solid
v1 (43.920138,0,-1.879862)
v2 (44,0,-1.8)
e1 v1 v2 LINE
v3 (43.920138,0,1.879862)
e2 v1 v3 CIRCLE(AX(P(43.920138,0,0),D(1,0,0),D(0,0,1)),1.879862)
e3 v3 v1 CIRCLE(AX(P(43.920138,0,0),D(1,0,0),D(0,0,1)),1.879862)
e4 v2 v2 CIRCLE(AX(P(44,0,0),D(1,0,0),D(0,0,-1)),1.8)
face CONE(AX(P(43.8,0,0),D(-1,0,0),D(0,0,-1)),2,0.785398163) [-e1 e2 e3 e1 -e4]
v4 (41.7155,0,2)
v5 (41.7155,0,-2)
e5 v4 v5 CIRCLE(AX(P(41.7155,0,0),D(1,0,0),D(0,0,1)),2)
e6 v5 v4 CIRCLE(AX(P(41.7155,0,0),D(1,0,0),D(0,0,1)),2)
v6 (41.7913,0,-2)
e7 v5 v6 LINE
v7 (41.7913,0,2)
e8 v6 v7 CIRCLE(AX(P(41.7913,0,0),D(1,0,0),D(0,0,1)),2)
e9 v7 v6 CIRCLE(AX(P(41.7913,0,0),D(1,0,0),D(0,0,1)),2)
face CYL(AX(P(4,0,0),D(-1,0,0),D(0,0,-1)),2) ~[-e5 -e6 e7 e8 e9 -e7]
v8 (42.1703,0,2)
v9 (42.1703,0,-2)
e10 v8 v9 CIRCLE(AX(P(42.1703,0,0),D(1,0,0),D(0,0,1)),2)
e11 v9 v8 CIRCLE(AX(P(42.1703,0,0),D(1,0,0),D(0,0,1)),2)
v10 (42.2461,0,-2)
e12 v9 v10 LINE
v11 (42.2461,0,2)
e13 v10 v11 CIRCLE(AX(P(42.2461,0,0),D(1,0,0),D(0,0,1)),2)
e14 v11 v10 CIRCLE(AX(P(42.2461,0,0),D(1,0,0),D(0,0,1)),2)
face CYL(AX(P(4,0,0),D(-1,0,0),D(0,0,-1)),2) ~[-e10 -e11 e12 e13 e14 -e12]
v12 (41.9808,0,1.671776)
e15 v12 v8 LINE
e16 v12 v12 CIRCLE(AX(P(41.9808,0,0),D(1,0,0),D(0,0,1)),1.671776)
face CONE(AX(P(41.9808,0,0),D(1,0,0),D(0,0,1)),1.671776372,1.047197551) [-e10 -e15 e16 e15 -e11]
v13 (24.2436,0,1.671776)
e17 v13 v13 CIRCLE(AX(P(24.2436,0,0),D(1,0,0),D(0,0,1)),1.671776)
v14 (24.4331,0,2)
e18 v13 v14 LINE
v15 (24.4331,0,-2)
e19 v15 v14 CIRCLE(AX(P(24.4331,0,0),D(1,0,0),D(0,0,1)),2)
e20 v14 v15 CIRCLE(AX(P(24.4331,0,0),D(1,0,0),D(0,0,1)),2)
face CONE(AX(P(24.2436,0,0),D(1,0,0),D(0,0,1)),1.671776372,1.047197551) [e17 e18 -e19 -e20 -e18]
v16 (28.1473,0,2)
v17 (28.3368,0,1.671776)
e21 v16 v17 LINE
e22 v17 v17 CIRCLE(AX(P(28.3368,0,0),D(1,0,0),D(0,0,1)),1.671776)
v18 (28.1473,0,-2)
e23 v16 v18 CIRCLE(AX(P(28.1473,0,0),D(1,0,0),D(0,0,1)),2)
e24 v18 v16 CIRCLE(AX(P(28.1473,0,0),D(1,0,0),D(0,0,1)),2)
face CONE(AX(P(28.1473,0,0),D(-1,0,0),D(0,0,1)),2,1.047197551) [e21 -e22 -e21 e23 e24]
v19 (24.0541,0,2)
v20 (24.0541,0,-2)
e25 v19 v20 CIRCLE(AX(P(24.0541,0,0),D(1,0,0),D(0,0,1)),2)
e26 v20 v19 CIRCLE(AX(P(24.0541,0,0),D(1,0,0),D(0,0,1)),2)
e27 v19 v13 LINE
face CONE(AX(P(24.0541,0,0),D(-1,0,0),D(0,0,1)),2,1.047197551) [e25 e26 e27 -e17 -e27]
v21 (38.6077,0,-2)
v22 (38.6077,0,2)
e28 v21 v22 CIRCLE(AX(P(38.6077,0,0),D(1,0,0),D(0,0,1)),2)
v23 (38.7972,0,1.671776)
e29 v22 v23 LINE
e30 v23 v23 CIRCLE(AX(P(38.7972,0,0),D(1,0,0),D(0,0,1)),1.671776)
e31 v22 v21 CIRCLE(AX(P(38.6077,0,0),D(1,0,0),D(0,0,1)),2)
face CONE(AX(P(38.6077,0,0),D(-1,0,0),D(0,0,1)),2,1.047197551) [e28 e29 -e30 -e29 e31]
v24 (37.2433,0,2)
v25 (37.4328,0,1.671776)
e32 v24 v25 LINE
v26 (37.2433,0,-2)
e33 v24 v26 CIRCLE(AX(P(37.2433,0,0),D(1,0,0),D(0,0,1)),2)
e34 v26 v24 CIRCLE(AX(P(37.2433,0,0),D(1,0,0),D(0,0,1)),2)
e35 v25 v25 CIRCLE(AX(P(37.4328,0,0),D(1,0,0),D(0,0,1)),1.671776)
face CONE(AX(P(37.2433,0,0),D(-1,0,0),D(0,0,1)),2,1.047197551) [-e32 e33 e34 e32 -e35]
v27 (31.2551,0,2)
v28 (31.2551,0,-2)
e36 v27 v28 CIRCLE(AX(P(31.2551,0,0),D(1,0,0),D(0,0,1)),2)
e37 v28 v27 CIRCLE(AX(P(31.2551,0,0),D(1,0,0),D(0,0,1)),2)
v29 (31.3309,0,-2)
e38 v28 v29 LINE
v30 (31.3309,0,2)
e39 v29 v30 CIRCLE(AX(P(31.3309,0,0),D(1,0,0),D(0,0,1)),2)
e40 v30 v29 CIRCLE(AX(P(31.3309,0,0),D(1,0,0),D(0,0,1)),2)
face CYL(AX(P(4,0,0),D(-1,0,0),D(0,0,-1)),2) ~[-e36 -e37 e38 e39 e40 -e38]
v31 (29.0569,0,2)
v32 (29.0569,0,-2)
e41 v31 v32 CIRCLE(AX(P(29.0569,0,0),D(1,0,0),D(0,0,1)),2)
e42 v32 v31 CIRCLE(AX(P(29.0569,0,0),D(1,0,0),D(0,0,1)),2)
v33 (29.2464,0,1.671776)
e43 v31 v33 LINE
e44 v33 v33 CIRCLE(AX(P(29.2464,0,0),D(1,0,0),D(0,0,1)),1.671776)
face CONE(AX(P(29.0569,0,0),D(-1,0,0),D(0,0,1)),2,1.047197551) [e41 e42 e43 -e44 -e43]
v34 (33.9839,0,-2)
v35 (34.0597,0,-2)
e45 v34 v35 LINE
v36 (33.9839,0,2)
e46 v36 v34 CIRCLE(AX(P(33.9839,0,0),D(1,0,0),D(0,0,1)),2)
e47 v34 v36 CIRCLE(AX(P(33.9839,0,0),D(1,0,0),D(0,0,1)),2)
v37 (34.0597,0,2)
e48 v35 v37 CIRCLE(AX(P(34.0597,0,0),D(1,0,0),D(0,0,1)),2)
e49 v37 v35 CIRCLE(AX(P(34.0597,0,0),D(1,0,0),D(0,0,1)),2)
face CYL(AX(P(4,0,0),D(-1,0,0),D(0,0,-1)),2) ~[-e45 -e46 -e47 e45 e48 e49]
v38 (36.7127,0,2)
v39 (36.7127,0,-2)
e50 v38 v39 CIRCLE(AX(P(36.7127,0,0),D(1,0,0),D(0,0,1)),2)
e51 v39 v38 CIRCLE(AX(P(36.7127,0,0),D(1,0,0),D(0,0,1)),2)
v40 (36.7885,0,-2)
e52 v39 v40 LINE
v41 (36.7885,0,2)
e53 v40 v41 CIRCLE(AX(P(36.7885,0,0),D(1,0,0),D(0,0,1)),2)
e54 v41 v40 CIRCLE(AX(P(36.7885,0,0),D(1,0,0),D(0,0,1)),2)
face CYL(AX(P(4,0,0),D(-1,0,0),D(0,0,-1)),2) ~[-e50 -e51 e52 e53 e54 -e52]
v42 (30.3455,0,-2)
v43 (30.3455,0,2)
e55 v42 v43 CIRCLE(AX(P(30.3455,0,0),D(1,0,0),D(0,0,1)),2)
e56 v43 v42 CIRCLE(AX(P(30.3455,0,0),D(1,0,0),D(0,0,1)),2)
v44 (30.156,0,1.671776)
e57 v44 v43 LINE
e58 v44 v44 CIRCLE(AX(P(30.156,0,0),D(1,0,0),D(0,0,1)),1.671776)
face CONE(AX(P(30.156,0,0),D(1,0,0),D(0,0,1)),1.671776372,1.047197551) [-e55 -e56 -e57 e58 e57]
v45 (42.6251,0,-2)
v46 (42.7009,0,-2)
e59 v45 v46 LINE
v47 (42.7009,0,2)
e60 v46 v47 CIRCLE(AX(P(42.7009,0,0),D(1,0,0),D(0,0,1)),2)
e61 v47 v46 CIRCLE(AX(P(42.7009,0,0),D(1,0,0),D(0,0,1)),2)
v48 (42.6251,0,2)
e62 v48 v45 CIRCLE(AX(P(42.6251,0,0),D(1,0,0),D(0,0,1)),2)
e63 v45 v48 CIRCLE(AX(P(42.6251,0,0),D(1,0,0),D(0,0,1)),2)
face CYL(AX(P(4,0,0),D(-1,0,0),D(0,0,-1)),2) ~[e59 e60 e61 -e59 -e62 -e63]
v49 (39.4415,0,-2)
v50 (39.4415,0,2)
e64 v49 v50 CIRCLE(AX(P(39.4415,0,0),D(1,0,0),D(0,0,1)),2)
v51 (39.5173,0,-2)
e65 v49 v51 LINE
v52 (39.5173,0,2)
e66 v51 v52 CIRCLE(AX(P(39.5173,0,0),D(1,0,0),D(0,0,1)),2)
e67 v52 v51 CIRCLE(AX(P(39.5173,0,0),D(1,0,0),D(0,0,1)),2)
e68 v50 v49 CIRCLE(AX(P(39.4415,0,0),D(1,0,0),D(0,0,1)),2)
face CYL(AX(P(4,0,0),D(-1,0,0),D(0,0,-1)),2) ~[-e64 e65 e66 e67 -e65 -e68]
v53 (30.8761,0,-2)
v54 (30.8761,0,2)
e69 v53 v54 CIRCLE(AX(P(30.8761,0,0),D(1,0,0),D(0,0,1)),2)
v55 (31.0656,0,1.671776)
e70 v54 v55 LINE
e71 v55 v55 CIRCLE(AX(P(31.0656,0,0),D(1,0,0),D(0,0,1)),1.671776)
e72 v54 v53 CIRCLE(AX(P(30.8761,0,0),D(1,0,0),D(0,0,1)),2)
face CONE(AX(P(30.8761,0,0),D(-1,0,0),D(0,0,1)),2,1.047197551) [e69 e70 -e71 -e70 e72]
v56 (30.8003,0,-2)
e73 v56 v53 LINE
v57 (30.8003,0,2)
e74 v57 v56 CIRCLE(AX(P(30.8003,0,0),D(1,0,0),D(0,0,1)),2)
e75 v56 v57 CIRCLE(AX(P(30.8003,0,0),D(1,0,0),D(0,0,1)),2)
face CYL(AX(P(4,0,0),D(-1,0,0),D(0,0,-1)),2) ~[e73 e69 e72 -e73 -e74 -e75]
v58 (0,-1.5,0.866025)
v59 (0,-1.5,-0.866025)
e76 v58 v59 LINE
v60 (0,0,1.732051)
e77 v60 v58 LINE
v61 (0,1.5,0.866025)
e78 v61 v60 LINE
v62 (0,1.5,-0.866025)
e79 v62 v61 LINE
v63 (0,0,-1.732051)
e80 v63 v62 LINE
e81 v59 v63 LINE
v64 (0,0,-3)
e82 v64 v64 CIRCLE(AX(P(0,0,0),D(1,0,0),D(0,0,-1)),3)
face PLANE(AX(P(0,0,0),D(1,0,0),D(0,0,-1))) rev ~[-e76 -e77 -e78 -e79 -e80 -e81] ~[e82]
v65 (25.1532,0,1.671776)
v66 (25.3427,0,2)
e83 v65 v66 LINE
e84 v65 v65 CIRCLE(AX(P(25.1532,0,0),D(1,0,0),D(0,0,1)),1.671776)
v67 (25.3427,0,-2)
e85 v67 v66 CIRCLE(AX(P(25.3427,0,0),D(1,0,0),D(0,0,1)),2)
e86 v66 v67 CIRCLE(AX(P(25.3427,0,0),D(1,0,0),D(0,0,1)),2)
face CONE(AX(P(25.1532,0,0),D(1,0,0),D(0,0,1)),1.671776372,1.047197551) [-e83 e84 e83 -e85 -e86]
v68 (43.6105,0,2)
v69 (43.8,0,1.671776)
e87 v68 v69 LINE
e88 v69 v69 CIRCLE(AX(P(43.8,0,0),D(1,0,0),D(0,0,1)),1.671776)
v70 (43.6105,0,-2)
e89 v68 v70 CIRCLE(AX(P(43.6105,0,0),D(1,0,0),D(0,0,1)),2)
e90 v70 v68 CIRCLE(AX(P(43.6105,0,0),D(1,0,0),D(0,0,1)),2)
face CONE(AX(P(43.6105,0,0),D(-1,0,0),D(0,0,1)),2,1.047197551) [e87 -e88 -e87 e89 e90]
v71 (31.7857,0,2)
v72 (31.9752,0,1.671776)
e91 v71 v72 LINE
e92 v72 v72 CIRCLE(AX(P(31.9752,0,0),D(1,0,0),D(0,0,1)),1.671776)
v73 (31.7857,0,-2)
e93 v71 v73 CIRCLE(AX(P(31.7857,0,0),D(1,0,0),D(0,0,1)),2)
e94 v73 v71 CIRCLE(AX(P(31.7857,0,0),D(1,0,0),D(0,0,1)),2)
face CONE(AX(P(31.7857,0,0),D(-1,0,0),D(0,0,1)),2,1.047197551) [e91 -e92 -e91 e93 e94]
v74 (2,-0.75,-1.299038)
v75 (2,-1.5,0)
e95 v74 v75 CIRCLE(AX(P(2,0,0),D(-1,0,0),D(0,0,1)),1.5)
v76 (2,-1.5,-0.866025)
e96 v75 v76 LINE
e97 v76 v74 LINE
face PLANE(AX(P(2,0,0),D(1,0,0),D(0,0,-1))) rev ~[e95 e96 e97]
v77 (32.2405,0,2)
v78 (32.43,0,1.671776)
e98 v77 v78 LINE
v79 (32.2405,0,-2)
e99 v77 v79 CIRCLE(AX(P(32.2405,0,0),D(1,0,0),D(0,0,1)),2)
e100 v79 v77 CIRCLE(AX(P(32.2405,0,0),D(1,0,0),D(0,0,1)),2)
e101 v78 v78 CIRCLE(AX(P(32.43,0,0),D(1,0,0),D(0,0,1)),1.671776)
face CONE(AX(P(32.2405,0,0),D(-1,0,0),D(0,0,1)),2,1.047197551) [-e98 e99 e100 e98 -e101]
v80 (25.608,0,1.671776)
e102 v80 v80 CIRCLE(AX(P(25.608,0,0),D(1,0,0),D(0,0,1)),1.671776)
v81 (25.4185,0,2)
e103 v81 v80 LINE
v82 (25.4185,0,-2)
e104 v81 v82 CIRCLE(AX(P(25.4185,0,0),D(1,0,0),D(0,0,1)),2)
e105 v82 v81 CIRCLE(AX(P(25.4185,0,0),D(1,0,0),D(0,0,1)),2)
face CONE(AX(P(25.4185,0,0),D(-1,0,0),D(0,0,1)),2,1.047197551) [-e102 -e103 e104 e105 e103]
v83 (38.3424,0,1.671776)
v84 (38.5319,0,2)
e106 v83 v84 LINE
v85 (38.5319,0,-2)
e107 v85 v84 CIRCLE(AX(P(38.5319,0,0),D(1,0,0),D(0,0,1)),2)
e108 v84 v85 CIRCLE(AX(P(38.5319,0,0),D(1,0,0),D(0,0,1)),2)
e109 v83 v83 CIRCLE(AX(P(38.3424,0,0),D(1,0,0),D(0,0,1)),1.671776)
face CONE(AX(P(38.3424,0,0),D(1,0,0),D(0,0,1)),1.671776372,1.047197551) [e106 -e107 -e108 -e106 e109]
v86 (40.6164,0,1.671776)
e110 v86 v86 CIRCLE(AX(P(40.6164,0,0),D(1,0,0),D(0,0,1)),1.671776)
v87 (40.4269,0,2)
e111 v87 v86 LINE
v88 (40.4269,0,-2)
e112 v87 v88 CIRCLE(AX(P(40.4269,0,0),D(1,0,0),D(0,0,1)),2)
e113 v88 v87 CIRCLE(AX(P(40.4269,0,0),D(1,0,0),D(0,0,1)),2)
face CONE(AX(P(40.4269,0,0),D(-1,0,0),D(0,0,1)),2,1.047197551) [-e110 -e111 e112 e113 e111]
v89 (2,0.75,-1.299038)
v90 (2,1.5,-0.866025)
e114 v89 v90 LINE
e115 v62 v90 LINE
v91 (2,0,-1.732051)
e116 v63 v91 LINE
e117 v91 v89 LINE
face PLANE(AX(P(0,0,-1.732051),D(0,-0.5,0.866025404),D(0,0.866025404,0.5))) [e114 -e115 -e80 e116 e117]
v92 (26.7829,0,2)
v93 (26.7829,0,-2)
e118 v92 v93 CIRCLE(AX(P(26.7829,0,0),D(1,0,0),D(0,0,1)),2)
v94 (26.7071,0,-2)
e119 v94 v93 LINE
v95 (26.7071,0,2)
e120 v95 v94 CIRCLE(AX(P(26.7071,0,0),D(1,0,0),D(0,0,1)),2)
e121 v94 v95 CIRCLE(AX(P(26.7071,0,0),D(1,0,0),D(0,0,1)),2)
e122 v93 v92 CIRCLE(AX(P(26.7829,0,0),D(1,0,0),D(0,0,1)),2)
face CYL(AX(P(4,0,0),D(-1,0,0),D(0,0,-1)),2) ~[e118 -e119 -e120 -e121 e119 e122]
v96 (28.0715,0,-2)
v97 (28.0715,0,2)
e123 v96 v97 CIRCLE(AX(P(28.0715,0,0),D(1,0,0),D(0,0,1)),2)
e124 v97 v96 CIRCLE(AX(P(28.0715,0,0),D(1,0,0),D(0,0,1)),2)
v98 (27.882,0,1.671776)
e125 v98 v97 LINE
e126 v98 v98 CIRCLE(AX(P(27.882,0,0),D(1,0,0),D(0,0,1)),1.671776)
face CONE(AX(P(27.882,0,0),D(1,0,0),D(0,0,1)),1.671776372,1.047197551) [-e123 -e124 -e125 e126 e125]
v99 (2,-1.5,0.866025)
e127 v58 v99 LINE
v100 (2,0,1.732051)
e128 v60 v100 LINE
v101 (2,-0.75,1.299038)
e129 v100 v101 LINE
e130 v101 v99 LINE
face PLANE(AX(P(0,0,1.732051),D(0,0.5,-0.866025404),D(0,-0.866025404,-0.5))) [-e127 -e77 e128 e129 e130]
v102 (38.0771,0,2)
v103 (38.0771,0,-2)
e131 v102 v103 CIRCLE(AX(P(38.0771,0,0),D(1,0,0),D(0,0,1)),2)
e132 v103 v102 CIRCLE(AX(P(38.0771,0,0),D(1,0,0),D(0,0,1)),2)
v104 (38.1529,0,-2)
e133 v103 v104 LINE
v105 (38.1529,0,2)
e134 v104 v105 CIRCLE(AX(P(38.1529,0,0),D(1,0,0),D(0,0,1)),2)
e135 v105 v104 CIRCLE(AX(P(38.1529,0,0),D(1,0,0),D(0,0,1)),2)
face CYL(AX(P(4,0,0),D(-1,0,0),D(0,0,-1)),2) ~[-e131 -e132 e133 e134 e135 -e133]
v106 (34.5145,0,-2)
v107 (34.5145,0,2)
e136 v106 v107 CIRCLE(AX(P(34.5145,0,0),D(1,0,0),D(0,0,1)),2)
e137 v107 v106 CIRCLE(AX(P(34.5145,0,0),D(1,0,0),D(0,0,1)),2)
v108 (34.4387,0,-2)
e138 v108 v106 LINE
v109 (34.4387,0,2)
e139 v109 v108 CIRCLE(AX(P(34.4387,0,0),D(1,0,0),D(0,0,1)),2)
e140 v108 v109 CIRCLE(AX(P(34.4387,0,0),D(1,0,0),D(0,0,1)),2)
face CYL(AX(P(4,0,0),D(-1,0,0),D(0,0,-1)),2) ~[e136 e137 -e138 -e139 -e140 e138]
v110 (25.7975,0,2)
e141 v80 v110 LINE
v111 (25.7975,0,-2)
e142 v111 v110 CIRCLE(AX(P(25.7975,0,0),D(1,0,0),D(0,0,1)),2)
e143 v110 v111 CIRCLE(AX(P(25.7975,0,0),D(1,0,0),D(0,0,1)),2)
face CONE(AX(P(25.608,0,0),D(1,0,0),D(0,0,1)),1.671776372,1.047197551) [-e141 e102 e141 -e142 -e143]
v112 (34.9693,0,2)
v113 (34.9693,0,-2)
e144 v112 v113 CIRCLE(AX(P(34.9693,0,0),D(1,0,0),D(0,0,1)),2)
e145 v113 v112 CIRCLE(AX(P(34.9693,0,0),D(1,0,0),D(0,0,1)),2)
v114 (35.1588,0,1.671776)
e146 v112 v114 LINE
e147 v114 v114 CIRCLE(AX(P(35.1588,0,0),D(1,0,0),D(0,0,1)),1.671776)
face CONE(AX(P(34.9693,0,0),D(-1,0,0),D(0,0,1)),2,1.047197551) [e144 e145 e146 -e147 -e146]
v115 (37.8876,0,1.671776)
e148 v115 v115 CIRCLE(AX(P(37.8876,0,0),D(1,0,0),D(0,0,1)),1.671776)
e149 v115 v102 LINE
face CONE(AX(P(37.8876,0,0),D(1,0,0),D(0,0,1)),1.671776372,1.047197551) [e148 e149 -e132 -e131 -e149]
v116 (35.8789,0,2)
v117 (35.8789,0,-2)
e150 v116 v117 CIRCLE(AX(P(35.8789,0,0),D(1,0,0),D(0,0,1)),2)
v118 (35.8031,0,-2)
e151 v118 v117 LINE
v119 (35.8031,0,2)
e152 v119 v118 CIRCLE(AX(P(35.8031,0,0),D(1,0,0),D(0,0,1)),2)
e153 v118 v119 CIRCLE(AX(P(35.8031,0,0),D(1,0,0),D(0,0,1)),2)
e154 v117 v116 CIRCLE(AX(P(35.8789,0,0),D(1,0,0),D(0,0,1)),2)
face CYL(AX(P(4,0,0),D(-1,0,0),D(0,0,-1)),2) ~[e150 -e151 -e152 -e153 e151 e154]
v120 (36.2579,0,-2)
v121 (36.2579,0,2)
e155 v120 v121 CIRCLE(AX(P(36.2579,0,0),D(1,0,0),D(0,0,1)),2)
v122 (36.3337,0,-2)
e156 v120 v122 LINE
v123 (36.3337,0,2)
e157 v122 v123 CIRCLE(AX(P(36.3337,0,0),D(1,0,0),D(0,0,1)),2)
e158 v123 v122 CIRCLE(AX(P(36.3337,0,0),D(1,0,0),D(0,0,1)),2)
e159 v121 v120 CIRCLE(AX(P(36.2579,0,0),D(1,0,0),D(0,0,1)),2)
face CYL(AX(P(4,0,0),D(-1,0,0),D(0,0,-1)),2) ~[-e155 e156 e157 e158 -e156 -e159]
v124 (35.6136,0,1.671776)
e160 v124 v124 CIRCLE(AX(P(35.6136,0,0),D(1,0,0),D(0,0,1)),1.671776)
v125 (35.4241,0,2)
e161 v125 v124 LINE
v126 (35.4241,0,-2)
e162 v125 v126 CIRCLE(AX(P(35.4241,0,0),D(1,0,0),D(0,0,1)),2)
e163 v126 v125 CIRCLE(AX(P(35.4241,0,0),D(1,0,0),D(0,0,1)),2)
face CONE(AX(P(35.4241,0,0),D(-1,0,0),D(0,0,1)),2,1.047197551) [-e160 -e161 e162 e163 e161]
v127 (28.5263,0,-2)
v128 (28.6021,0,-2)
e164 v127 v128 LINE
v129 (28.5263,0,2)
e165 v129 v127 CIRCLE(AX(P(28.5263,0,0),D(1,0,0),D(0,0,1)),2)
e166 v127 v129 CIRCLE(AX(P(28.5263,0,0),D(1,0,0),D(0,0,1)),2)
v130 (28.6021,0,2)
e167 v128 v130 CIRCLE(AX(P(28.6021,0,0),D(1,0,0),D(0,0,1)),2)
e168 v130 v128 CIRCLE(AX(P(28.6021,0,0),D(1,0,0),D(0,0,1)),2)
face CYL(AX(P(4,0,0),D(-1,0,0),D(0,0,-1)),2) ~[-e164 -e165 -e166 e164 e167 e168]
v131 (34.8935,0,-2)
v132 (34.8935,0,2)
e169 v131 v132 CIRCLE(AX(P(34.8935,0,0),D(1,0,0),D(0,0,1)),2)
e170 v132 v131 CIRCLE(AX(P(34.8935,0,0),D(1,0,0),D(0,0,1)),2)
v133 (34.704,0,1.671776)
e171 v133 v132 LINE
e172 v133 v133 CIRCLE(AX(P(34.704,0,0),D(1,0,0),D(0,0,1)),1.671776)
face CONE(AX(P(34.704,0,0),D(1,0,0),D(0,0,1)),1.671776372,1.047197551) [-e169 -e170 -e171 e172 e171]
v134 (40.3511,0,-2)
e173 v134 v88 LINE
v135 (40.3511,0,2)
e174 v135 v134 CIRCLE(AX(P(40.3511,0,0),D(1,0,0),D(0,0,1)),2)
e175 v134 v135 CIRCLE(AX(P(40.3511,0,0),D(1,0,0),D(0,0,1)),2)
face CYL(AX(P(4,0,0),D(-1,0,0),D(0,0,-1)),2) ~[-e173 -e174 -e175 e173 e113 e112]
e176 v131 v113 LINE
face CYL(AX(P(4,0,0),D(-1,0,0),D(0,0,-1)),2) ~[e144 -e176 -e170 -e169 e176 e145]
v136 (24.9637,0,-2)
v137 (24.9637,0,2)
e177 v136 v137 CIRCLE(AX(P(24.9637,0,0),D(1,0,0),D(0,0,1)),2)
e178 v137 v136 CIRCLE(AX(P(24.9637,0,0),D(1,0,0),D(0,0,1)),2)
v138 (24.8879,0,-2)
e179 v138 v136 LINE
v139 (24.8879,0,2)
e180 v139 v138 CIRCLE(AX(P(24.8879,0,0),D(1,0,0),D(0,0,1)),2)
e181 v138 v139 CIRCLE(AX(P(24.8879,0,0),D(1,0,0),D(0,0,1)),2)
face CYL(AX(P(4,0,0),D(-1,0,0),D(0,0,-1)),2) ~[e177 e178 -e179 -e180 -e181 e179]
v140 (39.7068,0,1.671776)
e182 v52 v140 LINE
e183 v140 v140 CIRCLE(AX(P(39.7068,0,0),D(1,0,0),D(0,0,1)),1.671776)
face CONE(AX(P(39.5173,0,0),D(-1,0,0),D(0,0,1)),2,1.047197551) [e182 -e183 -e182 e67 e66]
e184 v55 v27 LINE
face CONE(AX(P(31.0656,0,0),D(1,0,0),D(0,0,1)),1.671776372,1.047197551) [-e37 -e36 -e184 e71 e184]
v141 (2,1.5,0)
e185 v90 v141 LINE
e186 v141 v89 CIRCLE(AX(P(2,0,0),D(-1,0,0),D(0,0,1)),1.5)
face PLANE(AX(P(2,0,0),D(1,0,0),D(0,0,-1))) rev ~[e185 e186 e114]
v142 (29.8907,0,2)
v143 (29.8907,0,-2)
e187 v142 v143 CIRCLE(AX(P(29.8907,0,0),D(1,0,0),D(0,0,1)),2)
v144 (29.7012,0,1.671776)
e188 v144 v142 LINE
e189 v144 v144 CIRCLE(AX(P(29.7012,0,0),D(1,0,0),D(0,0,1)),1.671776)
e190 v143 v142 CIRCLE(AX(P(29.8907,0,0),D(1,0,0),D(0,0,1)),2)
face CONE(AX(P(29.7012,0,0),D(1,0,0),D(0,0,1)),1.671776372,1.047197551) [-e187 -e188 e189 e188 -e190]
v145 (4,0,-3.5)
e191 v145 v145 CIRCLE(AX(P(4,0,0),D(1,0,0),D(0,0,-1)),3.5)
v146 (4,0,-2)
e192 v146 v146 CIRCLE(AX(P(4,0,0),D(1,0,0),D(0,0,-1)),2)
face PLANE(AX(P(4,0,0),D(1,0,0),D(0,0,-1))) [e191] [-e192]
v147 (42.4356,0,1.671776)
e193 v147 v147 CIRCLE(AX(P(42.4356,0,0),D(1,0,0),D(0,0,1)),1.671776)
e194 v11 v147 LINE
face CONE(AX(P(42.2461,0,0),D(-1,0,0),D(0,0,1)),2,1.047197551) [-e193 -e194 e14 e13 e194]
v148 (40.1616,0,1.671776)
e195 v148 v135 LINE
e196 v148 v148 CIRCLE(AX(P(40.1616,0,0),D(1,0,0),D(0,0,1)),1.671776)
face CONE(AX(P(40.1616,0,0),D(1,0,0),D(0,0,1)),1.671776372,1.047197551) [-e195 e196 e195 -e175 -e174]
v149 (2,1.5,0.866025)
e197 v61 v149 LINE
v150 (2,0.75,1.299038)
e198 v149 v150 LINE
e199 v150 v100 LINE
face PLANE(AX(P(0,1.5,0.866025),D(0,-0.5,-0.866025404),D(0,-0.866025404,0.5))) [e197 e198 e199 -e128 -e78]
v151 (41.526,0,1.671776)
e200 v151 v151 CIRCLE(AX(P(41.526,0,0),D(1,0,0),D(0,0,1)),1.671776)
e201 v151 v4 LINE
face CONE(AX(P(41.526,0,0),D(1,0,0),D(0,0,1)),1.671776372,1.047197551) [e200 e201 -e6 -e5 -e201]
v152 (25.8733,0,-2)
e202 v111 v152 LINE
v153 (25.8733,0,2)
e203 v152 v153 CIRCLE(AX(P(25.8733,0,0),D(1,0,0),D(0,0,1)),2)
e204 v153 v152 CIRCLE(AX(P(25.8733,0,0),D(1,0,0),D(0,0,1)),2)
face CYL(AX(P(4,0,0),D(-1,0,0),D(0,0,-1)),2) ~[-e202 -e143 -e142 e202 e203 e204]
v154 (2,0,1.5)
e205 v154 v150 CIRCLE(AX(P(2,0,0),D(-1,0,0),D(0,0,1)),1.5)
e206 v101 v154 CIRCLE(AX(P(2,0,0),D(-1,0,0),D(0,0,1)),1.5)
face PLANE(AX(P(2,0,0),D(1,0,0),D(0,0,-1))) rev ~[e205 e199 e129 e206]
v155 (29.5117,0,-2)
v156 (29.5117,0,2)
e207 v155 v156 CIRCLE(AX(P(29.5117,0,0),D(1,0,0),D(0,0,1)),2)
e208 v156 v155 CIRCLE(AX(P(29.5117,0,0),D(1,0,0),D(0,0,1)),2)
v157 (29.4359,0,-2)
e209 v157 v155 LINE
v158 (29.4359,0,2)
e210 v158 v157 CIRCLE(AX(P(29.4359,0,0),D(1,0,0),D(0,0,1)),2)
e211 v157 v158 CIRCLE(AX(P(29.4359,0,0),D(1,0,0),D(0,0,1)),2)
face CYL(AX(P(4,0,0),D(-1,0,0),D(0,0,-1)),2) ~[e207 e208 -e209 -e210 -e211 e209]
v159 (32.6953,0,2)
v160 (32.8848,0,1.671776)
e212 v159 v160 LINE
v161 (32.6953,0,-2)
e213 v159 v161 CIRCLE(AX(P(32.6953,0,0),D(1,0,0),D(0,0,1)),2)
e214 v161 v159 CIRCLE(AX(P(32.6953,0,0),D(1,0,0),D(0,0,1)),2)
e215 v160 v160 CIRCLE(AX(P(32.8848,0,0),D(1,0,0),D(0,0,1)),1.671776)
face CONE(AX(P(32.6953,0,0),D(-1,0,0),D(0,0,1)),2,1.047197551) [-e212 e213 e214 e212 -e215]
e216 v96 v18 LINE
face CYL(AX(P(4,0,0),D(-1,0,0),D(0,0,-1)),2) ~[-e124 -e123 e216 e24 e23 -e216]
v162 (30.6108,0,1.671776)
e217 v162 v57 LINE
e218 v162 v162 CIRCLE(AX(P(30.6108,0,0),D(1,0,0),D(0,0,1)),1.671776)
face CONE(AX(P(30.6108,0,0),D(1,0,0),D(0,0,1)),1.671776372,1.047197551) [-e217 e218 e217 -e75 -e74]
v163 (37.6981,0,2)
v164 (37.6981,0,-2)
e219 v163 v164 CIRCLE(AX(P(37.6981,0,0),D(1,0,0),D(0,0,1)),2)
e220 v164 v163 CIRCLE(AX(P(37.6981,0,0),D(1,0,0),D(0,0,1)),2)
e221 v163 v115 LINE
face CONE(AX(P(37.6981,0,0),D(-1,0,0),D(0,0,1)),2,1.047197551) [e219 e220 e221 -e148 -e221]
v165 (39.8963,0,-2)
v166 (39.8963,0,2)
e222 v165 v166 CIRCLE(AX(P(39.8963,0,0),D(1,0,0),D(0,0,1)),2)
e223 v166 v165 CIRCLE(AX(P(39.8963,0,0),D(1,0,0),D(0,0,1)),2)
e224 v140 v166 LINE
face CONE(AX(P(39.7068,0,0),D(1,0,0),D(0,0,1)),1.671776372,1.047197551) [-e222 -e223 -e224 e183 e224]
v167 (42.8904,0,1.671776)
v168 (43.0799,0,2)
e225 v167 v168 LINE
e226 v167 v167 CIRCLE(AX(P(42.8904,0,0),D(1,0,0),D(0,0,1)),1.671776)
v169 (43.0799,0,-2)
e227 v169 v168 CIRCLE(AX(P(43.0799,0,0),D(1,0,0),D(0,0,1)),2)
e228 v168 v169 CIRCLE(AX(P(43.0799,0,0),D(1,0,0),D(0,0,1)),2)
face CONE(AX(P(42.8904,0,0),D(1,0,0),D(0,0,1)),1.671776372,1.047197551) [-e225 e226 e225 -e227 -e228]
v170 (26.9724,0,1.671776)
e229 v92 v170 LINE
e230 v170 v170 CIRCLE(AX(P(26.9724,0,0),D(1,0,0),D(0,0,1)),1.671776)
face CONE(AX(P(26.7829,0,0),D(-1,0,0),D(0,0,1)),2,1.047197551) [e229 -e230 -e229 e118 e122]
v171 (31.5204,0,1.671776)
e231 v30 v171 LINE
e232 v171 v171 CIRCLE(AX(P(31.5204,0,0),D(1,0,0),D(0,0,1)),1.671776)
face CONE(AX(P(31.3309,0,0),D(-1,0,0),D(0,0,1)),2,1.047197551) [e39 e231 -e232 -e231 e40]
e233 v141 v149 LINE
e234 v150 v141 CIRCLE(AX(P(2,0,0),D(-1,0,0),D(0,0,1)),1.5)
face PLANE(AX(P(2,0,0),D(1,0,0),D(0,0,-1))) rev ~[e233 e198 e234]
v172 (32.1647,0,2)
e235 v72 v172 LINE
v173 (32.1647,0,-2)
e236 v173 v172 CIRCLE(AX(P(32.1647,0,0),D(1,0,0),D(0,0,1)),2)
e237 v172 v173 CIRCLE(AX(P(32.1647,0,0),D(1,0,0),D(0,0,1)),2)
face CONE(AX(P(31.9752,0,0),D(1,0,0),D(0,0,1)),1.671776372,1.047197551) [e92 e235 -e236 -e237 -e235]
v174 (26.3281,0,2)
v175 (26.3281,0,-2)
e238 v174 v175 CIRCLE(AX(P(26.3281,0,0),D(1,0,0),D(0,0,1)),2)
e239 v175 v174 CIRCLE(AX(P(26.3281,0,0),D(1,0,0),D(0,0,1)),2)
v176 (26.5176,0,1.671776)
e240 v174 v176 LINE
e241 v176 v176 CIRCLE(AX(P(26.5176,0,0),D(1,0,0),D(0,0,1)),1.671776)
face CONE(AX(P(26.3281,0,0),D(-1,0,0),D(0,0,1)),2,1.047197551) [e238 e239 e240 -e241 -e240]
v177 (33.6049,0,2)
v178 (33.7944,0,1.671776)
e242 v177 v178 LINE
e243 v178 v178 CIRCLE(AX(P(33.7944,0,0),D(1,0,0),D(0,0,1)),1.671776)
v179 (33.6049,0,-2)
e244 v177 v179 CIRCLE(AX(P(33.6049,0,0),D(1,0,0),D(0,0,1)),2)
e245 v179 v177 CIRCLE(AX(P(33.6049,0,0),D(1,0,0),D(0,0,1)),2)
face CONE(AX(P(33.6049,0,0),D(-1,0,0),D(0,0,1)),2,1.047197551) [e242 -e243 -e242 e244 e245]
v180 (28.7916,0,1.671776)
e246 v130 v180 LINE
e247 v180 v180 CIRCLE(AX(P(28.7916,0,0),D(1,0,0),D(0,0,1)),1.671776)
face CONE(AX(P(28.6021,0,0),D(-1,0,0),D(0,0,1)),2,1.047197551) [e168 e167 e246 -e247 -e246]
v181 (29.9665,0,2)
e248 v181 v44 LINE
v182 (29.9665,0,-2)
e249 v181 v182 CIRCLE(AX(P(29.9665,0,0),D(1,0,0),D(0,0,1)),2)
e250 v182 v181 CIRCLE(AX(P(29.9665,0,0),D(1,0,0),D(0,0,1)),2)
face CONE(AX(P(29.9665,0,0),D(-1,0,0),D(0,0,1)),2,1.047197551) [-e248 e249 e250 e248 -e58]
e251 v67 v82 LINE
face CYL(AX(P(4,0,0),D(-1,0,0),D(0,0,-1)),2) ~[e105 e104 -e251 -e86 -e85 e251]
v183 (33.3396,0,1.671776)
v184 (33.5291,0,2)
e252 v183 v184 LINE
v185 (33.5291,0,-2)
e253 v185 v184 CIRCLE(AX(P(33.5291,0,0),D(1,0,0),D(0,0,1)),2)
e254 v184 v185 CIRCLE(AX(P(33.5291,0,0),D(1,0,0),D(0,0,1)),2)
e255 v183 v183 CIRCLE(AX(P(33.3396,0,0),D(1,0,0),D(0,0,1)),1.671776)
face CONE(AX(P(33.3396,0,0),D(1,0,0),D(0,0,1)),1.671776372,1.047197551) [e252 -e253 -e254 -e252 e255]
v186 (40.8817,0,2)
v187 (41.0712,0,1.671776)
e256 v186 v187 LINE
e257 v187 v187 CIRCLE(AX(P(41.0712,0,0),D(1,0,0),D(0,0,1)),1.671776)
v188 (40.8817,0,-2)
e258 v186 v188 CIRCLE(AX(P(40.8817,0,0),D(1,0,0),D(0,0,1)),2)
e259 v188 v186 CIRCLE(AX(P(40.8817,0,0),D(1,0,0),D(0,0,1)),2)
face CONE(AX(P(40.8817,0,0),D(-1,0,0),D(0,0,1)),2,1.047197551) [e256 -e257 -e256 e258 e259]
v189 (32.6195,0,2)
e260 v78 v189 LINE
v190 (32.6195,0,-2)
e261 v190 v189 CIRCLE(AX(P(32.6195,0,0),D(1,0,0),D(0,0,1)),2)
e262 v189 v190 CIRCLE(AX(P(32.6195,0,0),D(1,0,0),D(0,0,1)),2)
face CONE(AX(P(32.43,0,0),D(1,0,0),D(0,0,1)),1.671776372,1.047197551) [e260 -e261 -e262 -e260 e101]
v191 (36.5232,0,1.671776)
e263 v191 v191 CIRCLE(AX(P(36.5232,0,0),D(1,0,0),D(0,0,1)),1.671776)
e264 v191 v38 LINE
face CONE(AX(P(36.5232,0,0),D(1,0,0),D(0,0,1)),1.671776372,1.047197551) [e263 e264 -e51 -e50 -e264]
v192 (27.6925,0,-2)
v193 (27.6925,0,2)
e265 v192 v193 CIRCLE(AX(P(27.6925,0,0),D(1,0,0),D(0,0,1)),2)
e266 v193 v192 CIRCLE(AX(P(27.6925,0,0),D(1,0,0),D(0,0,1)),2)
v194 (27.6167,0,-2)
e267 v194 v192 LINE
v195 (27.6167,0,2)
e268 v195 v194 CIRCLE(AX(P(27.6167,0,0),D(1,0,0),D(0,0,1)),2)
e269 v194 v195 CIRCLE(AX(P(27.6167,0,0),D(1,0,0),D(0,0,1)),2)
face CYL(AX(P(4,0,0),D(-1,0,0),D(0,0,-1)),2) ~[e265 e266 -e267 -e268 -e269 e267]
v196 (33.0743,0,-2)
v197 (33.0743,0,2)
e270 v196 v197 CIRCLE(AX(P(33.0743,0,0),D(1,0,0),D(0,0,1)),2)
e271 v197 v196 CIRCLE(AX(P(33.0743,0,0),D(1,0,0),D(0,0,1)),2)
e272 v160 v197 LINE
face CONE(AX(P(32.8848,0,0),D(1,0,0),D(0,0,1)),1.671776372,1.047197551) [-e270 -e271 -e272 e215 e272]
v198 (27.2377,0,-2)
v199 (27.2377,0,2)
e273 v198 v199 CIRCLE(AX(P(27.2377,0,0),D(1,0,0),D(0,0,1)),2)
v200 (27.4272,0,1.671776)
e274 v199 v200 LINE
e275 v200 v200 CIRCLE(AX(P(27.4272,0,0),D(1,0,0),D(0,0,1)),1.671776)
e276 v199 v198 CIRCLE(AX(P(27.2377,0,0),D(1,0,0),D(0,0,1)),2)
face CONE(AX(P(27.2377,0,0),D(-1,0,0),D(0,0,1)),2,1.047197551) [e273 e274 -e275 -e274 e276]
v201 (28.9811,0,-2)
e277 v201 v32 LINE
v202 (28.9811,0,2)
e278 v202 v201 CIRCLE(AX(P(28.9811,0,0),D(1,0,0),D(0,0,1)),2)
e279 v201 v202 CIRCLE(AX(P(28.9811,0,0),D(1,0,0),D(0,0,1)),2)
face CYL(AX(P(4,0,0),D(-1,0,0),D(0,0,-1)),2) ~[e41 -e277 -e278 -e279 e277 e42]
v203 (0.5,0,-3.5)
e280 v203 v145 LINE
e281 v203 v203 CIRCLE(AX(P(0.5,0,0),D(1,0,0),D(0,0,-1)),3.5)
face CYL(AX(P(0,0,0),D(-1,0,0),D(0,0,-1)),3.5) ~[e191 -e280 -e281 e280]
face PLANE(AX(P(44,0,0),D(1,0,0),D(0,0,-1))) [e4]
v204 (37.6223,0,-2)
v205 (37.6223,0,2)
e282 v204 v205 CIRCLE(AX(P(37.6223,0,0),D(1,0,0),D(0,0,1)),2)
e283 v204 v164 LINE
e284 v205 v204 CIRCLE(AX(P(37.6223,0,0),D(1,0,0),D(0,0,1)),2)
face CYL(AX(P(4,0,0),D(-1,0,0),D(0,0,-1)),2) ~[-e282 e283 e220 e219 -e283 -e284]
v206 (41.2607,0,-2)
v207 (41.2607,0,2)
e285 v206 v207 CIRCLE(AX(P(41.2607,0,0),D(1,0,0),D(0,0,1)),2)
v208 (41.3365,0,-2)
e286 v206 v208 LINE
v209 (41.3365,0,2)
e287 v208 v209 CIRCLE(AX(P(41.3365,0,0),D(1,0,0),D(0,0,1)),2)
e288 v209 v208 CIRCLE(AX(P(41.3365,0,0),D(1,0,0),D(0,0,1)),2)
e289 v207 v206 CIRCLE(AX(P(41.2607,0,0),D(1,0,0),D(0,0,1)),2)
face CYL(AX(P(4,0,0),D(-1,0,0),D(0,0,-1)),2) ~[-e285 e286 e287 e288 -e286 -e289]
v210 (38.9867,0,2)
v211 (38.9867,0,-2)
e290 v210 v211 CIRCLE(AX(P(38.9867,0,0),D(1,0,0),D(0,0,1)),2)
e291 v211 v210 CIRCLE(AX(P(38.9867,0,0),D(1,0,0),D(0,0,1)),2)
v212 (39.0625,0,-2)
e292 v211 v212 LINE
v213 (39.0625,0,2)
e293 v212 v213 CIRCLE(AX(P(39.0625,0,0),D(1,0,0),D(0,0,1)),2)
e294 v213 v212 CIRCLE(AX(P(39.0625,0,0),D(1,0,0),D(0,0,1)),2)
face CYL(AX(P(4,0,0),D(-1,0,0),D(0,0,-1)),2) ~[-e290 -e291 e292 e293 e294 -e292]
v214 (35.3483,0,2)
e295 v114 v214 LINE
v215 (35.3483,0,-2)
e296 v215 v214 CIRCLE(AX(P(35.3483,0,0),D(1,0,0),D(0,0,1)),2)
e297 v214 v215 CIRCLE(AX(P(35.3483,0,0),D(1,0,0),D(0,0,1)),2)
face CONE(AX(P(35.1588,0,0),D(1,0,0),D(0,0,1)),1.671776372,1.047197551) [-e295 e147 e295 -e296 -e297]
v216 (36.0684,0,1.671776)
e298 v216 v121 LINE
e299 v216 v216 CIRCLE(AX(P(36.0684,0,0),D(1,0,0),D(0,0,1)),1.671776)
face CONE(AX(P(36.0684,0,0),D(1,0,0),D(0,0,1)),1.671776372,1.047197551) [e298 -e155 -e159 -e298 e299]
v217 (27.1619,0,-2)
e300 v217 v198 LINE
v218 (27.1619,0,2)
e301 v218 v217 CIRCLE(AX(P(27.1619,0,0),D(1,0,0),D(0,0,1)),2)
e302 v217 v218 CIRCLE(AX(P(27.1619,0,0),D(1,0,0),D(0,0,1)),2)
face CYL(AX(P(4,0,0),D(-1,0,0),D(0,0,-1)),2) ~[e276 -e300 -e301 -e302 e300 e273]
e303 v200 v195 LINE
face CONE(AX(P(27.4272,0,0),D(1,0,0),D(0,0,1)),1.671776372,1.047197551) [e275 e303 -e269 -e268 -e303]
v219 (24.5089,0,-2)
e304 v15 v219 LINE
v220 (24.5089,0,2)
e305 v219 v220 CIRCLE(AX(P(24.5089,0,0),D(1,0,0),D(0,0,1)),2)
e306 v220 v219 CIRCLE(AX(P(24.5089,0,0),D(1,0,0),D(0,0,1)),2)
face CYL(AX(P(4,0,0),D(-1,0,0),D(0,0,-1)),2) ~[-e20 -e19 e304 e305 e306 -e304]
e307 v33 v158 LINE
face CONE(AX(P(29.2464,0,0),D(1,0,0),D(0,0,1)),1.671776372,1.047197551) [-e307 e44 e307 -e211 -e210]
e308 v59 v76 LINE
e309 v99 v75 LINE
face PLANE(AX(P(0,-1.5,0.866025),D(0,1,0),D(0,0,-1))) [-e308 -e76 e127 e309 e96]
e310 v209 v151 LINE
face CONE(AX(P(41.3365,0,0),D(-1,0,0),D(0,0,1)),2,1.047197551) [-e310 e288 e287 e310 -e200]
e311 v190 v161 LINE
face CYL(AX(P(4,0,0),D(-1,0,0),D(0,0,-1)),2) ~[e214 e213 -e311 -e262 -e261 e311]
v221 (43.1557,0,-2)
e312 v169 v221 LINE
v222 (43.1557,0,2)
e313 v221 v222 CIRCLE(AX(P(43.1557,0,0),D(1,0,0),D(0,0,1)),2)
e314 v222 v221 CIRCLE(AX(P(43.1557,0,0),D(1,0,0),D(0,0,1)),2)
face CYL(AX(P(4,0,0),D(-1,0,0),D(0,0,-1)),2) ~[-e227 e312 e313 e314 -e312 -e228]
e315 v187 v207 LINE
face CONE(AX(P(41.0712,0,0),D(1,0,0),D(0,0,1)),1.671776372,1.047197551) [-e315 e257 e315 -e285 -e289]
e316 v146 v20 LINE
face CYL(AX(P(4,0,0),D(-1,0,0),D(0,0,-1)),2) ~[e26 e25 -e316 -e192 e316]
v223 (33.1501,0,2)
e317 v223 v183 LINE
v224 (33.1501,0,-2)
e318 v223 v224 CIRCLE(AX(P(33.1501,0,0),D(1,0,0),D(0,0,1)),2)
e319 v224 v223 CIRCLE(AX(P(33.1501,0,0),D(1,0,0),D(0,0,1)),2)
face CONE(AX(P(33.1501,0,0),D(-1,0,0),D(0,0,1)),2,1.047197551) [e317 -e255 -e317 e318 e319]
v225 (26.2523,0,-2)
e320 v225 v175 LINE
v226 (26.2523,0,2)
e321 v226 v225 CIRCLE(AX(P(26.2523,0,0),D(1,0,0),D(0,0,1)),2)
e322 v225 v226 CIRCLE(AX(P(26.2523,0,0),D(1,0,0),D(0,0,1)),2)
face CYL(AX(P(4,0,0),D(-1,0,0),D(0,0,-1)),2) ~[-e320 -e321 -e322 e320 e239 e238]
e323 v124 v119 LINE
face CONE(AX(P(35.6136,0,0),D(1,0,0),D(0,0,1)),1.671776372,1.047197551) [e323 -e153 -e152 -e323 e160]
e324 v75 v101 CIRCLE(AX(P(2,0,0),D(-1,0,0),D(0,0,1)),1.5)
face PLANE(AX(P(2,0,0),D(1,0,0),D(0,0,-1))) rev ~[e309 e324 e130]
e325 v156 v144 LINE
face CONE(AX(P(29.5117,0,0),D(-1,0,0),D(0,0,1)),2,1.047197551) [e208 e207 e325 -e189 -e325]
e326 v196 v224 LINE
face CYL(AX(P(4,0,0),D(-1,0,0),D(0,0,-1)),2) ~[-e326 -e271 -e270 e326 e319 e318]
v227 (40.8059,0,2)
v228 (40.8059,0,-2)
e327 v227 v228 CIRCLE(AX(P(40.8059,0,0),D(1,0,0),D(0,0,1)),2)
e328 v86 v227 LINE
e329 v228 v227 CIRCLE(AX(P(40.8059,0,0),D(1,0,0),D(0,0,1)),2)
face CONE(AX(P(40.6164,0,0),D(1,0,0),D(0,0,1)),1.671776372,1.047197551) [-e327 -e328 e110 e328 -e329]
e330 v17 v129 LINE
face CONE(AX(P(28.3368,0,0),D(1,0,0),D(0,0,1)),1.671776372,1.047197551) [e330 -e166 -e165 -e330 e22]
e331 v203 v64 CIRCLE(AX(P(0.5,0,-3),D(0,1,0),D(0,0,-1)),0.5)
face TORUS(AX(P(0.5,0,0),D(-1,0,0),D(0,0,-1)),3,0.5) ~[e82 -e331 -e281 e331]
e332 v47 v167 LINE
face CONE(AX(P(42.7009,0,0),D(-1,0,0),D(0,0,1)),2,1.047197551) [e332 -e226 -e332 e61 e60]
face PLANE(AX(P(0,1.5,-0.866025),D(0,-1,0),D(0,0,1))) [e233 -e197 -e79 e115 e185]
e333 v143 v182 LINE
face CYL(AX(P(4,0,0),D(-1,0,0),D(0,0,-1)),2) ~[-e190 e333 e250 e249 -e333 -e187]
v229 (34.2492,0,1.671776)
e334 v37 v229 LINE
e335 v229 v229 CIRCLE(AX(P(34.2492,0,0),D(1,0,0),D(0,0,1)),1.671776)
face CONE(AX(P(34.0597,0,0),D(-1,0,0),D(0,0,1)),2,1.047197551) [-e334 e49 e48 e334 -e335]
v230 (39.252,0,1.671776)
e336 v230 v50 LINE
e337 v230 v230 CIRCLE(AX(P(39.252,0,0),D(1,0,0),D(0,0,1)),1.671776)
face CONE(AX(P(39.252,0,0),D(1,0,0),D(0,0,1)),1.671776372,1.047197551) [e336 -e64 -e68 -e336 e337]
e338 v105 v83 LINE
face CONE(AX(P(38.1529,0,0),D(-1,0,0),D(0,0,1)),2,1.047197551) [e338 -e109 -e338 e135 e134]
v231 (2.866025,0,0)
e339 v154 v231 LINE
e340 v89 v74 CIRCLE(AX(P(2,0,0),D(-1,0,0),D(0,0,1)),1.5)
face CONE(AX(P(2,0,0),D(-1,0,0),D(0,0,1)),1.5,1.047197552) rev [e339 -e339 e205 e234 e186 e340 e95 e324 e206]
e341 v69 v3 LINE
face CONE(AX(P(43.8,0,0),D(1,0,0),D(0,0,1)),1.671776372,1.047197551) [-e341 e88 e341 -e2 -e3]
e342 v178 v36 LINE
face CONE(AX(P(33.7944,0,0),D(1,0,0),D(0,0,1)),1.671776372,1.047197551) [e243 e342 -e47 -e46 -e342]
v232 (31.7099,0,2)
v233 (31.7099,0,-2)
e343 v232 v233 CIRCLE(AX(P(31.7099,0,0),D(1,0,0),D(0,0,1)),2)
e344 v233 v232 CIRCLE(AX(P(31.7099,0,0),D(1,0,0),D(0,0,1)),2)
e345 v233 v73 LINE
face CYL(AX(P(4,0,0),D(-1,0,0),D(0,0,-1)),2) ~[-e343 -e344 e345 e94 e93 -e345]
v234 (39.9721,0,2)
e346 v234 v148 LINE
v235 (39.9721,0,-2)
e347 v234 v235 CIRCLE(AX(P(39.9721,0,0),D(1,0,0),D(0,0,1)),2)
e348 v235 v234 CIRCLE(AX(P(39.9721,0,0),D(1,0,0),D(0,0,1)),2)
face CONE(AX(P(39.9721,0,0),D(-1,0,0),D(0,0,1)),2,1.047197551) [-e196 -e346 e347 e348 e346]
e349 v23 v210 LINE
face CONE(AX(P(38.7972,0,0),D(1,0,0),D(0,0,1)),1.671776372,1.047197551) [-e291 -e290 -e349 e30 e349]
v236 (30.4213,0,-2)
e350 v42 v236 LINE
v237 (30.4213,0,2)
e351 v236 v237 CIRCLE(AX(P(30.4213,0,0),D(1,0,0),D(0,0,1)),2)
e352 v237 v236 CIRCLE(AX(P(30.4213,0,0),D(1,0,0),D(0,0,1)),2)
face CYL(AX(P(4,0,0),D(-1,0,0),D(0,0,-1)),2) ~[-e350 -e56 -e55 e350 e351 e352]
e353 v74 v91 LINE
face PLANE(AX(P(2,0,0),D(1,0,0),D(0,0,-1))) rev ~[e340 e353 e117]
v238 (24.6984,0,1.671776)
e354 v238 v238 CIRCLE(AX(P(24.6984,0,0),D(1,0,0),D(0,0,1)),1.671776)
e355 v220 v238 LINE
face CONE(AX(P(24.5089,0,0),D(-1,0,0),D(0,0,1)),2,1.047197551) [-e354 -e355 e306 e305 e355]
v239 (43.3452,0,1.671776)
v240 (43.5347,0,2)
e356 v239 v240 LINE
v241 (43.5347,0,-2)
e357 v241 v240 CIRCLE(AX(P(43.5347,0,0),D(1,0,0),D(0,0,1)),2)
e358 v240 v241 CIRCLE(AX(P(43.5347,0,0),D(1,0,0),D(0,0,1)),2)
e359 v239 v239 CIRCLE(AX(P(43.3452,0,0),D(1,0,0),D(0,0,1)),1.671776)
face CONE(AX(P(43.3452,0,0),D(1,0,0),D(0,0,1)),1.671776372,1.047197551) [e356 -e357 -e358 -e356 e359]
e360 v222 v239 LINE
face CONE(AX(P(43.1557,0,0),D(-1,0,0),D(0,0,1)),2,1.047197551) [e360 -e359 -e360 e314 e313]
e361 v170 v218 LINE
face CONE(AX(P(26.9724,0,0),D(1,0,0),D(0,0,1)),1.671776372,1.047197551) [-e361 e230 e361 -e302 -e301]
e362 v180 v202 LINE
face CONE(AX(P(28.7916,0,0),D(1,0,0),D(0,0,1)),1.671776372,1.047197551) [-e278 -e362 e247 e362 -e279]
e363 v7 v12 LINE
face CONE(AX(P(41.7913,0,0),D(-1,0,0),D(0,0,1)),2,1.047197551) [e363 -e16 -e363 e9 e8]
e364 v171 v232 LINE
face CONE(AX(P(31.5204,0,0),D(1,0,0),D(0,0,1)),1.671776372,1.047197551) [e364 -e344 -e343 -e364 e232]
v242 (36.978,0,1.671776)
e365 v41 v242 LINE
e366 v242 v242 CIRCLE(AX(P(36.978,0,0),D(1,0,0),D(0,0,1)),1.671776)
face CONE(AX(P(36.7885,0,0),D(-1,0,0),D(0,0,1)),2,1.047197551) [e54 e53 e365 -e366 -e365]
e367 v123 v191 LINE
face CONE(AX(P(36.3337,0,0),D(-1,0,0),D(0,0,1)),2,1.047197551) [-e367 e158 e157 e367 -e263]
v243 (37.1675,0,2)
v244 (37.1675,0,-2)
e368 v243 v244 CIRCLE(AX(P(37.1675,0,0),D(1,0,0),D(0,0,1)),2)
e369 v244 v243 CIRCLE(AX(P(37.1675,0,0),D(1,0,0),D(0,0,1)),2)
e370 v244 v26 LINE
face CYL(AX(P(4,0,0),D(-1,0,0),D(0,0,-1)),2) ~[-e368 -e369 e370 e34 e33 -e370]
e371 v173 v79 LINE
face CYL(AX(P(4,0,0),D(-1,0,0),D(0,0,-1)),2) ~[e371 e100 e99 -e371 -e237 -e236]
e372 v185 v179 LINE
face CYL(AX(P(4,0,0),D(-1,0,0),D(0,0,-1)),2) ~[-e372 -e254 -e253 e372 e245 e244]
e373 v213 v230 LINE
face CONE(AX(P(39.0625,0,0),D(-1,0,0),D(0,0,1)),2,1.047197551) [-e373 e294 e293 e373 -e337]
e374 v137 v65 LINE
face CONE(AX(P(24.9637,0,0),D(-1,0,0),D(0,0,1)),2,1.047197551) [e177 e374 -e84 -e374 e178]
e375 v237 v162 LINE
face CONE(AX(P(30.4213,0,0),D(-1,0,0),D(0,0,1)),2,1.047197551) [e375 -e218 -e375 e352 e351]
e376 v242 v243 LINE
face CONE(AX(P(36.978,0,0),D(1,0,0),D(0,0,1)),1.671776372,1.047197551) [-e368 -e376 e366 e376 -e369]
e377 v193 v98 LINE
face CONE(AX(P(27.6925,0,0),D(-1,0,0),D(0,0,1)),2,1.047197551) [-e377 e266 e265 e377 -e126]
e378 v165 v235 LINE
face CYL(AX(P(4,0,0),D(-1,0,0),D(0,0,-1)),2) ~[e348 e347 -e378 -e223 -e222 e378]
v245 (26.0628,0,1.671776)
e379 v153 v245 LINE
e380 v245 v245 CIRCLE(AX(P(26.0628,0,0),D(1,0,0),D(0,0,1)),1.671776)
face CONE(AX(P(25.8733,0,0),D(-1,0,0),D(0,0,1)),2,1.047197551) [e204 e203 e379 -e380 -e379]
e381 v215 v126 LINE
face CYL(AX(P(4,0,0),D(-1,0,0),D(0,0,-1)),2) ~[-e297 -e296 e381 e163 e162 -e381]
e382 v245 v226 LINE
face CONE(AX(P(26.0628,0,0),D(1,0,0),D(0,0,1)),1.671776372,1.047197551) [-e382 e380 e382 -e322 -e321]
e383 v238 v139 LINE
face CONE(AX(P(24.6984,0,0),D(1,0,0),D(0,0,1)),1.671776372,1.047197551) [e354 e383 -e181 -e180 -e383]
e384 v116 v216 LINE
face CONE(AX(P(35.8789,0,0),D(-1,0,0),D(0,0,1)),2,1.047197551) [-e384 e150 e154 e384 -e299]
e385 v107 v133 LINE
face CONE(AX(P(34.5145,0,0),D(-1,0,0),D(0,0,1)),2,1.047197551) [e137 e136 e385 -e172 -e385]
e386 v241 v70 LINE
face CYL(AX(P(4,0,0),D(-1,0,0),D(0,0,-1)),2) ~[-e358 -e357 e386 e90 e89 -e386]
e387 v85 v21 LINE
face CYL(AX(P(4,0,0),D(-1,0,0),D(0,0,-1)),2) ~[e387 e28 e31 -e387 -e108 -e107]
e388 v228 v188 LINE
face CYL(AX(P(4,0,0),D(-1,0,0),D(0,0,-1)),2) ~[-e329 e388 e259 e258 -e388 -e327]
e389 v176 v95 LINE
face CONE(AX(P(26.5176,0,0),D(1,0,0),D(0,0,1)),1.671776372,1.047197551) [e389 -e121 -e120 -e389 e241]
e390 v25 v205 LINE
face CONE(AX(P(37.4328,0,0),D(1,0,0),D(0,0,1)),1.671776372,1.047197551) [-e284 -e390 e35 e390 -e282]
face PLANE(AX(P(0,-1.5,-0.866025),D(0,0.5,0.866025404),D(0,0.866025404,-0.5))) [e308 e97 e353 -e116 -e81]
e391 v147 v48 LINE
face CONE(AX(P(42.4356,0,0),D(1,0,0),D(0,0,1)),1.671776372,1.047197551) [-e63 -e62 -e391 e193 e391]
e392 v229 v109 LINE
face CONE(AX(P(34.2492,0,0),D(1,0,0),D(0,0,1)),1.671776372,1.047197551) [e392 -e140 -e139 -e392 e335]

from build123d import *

# Parameters (mm, degrees)
SKETCH1_R           = 3.5
BASEHEAD_DEPTH      = 4
SKETCH2_R           = 2
BASEBODY_DEPTH      = 40
HEXAGONSOCKET_DEPTH = 2
TOPFILLET_R         = 0.5
CHAMFER1_SIZE       = 0.2
LPATTERN10_COUNT    = 44
LPATTERN10_PITCH    = 0.4548


with BuildPart() as part:
    # Sketch1 → BaseHead (new body)
    with BuildSketch(Plane(origin=(0, 0, 0), x_dir=(0, 0, -1), z_dir=(1, 0, 0))):
        Circle(SKETCH1_R)
    extrude(amount=BASEHEAD_DEPTH)

    # Sketch2 → BaseBody (add)
    with BuildSketch(Plane(origin=(4, 0, 0), x_dir=(0, 0, -1), z_dir=(1, 0, 0))):
        Circle(SKETCH2_R)
    extrude(amount=BASEBODY_DEPTH)

    # Sketch3 → HexagonSocket (cut)
    with BuildSketch(Plane(origin=(0, 0, 0), x_dir=(0, 0, -1), z_dir=(1, 0, 0))):
        Polygon((1.732050808, 0), (0.866025404, 1.5), (-0.866025404, 1.5), (-1.732050808, 0), (-0.866025404, -1.5), (0.866025404, -1.5), align=None)
    extrude(amount=HEXAGONSOCKET_DEPTH, mode=Mode.SUBTRACT)

    # Sketch4 → Cut-Revolve1 (revolve, cut)
    with BuildSketch(Plane(origin=(-4.19613823, 0.75, 0), x_dir=(-1, 0, 0), z_dir=(0, 0, 1)), mode=Mode.PRIVATE) as cut_revolve1_sk:
        Polygon((-6.19613823, 2.25), (-7.062163633, 0.75), (-6.19613823, 0.75), align=None)
    revolve(cut_revolve1_sk.sketch.rotate(Axis((0.838992387, 0, 0), (-1, 0, 0)), 90), axis=Axis((0.838992387, 0, 0), (-1, 0, 0)), mode=Mode.SUBTRACT)

    # TopFillet
    topfillet_edges = [part.edges().sort_by_distance(p)[0] for p in [
        (0, 0, 3.5),
    ]]
    fillet(topfillet_edges, radius=TOPFILLET_R)

    # Chamfer1
    chamfer1_edges = [part.edges().sort_by_distance(p)[0] for p in [
        (44, 0, 2),
    ]]
    chamfer(chamfer1_edges, length=CHAMFER1_SIZE)

    # Sketch5 → Cut-Revolve10 (revolve, cut)
    with BuildSketch(Plane.XY, mode=Mode.PRIVATE) as cut_revolve10_sk:
        Polygon((43.8, 1.671776372), (43.9895, 2), (43.9895, 2.379), (43.6105, 2.379), (43.6105, 2), align=None)
    cut_revolve10 = revolve(cut_revolve10_sk.sketch.rotate(Axis((0, 0, 0), (1, 0, 0)), 90), axis=Axis((0, 0, 0), (1, 0, 0)), mode=Mode.SUBTRACT)

    # LPattern10: Cut-Revolve10 ×44
    with Locations(*[(-i * LPATTERN10_PITCH, 0, 0) for i in range(1, LPATTERN10_COUNT)]):
        add(cut_revolve10, mode=Mode.SUBTRACT)


solid = part.part
